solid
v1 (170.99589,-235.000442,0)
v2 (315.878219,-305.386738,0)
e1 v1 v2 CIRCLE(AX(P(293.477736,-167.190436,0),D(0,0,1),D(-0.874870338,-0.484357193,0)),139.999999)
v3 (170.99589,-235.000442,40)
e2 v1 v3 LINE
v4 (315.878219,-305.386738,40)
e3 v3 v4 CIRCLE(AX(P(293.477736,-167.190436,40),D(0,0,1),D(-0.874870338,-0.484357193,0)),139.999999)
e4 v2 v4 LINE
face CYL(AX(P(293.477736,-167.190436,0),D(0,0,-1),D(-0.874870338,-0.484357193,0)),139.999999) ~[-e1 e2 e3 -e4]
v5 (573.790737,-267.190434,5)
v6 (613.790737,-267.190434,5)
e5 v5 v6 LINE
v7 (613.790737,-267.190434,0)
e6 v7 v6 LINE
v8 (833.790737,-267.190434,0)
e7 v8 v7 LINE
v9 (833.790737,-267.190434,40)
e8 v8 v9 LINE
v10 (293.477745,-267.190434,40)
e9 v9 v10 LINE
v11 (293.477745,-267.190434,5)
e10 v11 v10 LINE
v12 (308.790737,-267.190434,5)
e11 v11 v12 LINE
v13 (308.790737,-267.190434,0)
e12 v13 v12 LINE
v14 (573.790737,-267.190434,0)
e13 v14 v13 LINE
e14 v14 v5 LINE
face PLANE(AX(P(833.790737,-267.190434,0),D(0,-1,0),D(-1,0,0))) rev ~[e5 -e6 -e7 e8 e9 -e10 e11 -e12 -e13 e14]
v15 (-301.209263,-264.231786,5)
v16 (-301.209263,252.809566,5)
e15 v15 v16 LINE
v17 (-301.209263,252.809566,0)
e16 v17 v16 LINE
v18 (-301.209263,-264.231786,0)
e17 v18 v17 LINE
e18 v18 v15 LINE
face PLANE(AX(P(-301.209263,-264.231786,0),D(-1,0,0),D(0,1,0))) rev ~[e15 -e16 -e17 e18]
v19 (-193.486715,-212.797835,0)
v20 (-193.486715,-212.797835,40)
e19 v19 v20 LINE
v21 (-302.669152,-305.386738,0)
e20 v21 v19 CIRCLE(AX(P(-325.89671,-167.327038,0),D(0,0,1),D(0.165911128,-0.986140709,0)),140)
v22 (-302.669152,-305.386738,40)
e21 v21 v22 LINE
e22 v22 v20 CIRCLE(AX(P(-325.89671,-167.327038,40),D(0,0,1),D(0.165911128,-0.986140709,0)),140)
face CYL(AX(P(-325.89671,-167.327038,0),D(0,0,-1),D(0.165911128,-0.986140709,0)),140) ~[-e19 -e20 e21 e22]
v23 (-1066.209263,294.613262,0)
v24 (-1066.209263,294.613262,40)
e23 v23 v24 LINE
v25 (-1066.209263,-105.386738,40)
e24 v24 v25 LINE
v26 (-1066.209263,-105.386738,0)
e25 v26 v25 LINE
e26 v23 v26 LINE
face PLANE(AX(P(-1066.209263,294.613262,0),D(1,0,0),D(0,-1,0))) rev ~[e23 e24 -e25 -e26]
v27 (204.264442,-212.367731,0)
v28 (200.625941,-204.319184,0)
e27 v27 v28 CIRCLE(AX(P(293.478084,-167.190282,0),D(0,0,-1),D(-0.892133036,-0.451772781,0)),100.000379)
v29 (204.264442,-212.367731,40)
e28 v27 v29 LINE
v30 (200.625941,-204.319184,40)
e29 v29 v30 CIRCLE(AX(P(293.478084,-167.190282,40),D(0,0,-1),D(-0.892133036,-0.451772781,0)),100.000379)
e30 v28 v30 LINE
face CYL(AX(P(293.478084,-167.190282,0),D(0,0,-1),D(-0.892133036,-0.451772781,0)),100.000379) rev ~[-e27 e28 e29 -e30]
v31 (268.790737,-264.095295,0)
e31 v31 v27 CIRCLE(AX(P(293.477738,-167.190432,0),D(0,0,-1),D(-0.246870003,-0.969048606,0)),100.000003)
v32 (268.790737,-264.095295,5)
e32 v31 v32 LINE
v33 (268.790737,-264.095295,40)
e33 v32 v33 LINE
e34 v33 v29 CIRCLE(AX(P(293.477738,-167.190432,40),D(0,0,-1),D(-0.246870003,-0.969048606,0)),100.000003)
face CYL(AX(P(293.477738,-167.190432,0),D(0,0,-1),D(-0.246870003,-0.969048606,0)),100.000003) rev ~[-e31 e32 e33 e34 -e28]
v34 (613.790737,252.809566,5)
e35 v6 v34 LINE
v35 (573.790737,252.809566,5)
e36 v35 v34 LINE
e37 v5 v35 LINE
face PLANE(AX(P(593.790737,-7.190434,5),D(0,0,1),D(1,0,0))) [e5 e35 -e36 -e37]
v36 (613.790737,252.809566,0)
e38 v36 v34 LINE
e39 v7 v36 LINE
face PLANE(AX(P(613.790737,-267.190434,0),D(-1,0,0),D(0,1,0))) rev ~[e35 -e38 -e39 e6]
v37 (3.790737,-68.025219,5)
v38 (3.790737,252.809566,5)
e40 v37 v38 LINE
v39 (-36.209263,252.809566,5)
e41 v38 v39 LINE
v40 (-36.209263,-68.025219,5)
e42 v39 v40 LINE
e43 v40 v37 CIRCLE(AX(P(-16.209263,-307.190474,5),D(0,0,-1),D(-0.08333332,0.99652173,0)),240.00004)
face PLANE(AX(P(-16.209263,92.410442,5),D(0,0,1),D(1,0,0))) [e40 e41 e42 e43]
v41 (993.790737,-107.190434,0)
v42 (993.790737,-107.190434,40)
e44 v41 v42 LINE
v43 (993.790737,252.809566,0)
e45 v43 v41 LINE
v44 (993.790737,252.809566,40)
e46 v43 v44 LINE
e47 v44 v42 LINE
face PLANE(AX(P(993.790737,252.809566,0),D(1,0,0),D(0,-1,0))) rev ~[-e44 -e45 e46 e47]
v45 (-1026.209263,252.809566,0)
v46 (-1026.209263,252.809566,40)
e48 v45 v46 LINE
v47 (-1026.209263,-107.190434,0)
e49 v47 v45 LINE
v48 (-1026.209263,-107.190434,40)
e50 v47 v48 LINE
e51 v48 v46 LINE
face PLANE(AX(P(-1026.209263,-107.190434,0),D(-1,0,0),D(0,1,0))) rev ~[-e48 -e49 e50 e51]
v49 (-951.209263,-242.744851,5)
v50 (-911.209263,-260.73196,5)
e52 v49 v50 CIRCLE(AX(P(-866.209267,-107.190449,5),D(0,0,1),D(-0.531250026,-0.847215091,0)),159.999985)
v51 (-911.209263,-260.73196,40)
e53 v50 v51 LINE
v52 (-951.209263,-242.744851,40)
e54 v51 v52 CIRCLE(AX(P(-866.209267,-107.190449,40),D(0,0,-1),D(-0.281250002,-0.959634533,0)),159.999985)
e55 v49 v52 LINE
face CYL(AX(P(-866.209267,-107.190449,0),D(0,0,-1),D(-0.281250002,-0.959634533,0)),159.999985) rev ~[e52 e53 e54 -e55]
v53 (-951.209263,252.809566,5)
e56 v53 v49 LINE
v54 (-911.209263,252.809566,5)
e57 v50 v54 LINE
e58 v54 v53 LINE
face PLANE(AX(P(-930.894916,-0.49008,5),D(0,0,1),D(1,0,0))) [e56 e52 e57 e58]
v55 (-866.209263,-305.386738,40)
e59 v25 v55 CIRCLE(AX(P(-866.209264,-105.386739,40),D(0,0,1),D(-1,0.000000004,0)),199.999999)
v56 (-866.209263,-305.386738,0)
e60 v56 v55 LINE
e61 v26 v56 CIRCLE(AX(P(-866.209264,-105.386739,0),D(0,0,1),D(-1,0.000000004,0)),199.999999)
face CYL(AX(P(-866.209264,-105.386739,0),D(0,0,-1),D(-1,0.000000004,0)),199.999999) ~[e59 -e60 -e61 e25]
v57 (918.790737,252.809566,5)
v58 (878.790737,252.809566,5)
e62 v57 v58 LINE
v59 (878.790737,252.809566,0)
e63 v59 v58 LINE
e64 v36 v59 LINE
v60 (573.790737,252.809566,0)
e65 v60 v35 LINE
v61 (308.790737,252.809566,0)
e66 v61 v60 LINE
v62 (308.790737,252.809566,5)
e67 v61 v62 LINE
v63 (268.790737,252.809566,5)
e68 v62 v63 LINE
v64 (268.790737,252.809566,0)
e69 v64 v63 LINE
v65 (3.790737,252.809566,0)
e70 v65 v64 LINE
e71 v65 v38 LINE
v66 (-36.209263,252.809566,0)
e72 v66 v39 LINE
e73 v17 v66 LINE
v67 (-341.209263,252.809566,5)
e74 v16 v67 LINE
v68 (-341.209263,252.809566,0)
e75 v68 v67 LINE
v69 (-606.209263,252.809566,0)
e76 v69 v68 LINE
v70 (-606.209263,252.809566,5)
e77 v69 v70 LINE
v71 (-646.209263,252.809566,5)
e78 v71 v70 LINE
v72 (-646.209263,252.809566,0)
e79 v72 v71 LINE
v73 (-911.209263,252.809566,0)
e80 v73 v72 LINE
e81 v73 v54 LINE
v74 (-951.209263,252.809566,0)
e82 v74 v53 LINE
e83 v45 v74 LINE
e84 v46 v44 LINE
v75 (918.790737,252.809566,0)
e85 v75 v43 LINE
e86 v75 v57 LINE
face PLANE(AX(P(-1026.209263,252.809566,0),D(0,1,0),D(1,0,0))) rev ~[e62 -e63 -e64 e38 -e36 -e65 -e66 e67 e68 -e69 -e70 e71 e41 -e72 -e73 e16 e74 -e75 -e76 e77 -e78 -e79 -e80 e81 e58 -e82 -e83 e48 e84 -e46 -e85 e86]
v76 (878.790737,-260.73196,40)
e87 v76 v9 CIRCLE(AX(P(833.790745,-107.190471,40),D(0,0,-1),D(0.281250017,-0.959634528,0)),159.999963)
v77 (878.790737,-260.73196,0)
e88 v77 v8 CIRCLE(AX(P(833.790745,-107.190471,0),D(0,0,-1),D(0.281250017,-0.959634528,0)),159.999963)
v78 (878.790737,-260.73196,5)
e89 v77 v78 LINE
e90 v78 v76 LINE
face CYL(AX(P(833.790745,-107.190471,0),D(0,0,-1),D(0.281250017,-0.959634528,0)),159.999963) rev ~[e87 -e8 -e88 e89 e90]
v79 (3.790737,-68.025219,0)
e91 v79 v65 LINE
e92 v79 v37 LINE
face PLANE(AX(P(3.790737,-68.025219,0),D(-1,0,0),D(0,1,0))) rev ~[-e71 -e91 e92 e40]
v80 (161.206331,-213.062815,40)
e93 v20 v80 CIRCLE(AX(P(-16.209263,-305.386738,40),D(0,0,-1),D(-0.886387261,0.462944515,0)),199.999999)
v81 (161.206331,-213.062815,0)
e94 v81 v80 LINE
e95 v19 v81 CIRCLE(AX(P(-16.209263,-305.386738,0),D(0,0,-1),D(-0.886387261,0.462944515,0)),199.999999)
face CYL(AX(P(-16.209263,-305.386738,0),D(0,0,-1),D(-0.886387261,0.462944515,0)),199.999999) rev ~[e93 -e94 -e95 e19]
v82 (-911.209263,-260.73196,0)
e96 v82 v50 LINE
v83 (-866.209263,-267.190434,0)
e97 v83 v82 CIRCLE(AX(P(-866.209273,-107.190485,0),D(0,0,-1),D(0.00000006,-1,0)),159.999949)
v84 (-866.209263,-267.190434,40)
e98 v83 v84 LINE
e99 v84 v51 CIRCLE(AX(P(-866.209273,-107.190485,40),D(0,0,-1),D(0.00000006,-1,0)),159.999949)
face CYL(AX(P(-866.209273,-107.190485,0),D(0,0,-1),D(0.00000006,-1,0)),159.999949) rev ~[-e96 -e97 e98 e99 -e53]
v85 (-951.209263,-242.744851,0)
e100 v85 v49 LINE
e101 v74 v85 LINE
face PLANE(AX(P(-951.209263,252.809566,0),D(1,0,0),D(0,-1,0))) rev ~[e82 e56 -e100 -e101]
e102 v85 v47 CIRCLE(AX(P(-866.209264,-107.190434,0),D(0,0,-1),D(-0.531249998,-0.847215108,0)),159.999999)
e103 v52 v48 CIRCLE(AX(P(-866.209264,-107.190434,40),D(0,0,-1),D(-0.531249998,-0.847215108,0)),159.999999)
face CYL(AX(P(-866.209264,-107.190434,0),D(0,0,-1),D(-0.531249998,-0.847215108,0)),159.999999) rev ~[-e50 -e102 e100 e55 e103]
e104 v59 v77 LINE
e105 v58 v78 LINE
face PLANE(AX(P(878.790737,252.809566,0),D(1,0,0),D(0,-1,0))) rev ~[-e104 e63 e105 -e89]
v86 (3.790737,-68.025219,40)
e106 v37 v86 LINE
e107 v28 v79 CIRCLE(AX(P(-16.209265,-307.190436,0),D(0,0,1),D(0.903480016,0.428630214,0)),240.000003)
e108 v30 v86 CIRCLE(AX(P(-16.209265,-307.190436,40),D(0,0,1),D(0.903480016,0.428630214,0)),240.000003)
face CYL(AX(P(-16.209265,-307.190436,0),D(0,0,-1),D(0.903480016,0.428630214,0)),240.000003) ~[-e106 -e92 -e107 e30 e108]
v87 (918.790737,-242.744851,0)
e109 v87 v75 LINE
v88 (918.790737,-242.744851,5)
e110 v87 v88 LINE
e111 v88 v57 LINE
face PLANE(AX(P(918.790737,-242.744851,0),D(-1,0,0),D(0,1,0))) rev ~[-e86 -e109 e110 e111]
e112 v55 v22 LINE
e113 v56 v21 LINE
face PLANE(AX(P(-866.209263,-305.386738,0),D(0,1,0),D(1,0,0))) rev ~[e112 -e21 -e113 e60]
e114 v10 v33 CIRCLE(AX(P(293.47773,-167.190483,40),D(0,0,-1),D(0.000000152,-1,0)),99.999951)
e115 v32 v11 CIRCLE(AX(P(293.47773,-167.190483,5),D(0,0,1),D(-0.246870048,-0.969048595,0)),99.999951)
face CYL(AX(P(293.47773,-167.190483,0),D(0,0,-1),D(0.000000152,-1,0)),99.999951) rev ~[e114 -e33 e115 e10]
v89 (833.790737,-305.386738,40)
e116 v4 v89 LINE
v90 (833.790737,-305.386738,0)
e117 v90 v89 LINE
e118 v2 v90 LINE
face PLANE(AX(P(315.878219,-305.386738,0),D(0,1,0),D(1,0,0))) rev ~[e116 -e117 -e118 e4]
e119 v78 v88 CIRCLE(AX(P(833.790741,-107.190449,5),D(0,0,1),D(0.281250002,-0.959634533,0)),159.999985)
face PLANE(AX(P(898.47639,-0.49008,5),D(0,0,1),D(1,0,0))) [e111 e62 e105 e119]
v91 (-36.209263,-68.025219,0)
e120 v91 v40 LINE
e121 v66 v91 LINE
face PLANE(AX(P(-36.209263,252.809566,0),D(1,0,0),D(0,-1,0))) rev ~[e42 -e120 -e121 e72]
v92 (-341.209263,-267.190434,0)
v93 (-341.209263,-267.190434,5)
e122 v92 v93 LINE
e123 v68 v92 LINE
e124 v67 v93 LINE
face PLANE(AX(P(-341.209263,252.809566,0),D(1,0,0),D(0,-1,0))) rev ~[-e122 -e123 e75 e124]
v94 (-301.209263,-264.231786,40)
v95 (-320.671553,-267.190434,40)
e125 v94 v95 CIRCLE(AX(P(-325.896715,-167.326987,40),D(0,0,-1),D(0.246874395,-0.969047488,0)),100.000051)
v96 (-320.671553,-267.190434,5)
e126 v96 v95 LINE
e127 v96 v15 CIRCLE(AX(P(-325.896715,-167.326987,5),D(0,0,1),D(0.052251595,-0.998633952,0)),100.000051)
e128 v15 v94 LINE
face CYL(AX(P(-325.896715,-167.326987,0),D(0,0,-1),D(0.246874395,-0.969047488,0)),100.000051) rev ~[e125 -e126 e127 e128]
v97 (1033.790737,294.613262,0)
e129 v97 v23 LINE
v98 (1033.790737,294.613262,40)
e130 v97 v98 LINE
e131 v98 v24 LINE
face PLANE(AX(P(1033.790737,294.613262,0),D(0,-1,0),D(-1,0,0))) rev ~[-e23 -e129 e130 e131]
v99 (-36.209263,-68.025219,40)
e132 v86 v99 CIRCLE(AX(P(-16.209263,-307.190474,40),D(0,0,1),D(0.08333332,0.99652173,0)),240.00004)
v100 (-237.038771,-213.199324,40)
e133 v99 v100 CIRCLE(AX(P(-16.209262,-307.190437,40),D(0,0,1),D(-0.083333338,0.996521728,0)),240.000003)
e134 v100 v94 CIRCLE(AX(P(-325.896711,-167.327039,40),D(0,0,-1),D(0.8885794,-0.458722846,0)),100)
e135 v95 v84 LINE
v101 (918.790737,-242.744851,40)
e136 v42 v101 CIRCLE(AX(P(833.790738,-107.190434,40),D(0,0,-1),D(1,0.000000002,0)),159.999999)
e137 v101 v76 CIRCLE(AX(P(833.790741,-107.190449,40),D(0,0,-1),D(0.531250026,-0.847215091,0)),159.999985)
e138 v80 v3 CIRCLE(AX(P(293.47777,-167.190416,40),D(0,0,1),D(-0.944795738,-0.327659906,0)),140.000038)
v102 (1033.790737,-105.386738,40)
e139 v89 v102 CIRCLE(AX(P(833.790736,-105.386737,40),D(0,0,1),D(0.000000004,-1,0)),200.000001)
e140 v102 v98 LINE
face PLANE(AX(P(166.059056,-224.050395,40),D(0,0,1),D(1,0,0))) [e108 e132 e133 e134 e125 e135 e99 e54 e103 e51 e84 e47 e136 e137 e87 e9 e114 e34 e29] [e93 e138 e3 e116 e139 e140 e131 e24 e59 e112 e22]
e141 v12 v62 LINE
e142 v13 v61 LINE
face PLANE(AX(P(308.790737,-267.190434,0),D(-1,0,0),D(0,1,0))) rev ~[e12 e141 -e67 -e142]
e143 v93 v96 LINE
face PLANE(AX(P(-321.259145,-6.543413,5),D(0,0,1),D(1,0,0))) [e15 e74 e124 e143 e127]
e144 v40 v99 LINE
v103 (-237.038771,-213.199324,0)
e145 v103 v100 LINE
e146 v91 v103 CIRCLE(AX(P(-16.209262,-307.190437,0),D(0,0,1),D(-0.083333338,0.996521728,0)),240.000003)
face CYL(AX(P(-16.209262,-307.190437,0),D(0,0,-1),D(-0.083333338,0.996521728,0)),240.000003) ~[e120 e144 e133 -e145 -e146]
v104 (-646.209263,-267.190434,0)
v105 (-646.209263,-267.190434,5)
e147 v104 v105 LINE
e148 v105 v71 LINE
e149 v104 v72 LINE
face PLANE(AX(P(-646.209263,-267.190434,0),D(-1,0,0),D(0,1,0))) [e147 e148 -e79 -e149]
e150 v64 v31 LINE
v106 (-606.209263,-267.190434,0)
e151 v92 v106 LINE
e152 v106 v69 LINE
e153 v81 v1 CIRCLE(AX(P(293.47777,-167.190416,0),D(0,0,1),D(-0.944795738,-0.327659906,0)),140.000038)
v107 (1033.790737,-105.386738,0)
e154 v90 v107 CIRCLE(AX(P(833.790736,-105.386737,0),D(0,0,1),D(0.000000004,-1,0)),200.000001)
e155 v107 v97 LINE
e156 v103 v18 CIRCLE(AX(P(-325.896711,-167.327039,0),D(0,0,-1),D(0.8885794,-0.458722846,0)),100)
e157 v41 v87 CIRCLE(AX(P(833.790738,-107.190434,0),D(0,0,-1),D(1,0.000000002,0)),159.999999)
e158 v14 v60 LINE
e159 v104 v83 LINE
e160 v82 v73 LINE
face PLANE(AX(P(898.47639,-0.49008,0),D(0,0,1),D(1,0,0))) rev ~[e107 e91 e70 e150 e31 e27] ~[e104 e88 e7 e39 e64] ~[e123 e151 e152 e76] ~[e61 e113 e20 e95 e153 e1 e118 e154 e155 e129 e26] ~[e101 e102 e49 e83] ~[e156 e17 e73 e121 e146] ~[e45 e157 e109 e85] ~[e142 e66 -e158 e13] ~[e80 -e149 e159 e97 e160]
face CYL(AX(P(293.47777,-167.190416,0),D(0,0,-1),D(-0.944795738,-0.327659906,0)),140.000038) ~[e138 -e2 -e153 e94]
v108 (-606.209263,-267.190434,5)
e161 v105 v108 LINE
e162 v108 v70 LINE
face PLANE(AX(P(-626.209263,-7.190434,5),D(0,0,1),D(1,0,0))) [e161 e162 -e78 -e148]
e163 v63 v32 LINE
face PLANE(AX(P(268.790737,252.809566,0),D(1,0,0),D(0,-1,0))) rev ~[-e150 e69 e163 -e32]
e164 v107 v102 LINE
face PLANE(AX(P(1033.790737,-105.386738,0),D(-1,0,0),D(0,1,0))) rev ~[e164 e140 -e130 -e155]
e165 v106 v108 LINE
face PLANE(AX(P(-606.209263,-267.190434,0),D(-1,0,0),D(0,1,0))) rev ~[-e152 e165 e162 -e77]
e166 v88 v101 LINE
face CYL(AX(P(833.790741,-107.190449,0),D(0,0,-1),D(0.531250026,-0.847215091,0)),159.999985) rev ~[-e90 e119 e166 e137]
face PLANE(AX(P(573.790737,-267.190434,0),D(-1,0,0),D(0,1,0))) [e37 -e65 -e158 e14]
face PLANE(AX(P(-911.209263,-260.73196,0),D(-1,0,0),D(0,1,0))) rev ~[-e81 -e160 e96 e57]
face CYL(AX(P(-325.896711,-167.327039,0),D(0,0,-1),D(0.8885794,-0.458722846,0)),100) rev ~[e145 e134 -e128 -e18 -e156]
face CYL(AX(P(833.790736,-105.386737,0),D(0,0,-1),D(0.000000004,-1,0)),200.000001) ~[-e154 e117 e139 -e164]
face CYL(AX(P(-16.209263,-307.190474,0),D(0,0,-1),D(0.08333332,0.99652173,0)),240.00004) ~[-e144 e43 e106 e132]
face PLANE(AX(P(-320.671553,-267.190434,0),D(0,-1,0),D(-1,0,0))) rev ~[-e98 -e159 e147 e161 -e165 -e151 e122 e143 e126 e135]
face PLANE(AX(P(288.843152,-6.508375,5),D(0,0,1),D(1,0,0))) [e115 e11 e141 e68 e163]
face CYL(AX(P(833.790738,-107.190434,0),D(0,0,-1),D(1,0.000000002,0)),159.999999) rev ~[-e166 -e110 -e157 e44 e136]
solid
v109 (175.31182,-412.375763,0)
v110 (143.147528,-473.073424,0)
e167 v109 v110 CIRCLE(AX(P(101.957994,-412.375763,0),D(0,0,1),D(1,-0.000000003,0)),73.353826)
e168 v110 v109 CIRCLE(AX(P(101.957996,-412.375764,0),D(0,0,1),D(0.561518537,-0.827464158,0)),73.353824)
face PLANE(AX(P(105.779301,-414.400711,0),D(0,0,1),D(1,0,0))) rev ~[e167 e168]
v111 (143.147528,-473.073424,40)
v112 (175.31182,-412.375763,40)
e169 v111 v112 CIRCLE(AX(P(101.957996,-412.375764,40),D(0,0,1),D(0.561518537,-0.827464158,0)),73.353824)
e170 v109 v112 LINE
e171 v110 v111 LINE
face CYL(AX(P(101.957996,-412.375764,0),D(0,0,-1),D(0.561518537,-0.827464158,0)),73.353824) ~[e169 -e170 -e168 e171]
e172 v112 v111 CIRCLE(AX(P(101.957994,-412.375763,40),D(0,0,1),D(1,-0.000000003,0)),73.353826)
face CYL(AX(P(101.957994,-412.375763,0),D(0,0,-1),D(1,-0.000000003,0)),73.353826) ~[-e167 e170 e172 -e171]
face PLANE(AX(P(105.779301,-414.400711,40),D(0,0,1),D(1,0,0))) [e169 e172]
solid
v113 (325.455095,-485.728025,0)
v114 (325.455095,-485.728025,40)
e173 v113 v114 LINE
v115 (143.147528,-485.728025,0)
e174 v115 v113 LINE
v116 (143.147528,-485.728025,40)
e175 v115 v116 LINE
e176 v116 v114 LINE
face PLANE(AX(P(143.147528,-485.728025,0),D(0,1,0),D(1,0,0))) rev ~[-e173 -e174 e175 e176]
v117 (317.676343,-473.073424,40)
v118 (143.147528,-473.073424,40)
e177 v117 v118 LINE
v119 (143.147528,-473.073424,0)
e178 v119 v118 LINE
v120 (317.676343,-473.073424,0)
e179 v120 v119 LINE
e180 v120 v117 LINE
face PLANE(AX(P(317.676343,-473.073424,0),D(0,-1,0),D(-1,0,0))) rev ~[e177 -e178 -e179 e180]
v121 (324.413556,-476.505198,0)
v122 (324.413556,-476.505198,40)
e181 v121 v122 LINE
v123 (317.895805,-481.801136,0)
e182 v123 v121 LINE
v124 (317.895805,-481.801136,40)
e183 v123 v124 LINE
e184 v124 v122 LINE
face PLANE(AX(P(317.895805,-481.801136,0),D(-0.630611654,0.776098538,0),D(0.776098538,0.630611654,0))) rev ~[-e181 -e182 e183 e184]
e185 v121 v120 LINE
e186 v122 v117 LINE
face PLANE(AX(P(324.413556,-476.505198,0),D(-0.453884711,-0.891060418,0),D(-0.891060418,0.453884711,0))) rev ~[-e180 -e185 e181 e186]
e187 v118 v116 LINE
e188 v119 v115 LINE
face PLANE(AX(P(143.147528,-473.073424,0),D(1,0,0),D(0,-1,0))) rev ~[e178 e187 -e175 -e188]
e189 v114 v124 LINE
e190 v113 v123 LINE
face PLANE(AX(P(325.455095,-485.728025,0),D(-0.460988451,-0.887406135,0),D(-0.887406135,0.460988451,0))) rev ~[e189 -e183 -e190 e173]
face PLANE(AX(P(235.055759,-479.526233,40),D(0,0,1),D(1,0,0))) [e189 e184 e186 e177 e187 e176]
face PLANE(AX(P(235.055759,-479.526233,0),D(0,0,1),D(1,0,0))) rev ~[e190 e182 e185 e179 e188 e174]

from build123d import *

# Parameters (mm, degrees)
F1_DEPTH = 40
F2_DEPTH = 5
F0_W     = 40
F0_H     = 520
F3_DEPTH = 5
F4_DEPTH = 5
F5_DEPTH = 5
F6_DEPTH = 5
F7_DEPTH = 5
F8_DEPTH = 5


with BuildPart() as f1:
    # F0 (on Top) → F1 (new body)
    with BuildSketch(Plane.XY):
        with BuildLine():
            ThreePointArc((143.147528, -473.073424), (166.773863, -446.722334), (175.31182, -412.375763))
            ThreePointArc((175.31182, -412.375763), (37.142125, -378.029192), (143.147528, -473.073424))
        make_face()
        Polygon((317.676343, -473.073424), (143.147528, -473.073424), (143.147528, -485.728025), (325.455095, -485.728025), (317.895805, -481.801136), (324.413556, -476.505198), align=None)
        with BuildLine():
            ThreePointArc((161.206331, -213.062815), (165.629703, -224.241992), (170.99589, -235.000442))
            ThreePointArc((170.99589, -235.000442), (166.430785, -223.884513), (161.206331, -213.062815))
        make_face()
        with BuildLine():
            Line((1033.790737, 294.613262), (-1066.209263, 294.613262))
            Line((-1066.209263, 294.613262), (-1066.209263, -105.386738))
            ThreePointArc((-1066.209263, -105.386738), (-1007.63062, -246.808094), (-866.209263, -305.386738))
            Line((-866.209263, -305.386738), (-302.669152, -305.386738))
            ThreePointArc((-302.669152, -305.386738), (-235.348722, -274.102794), (-193.486715, -212.797835))
            ThreePointArc((-193.486715, -212.797835), (-16.05985, -105.386794), (161.206331, -213.062815))
            ThreePointArc((161.206331, -213.062815), (166.430785, -223.884513), (170.99589, -235.000442))
            ThreePointArc((170.99589, -235.000442), (232.300719, -293.116494), (315.878219, -305.386738))
            Line((315.878219, -305.386738), (833.790737, -305.386738))
            ThreePointArc((833.790737, -305.386738), (975.212093, -246.808094), (1033.790737, -105.386738))
            Line((1033.790737, -105.386738), (1033.790737, 294.613262))
        make_face()
        with BuildLine():
            Line((-1026.209263, -107.190434), (-1026.209263, 252.809566))
            Line((-1026.209263, 252.809566), (-951.209263, 252.809566))
            Line((-951.209263, 252.809566), (-911.209263, 252.809566))
            Line((-911.209263, 252.809566), (-646.209263, 252.809566))
            Line((-646.209263, 252.809566), (-606.209263, 252.809566))
            Line((-606.209263, 252.809566), (-341.209263, 252.809566))
            Line((-341.209263, 252.809566), (-301.209263, 252.809566))
            Line((-301.209263, 252.809566), (-36.209263, 252.809566))
            Line((-36.209263, 252.809566), (3.790737, 252.809566))
            Line((3.790737, 252.809566), (268.790737, 252.809566))
            Line((268.790737, 252.809566), (308.790737, 252.809566))
            Line((308.790737, 252.809566), (573.790737, 252.809566))
            Line((573.790737, 252.809566), (613.790737, 252.809566))
            Line((613.790737, 252.809566), (878.790737, 252.809566))
            Line((878.790737, 252.809566), (918.790737, 252.809566))
            Line((918.790737, 252.809566), (993.790737, 252.809566))
            Line((993.790737, 252.809566), (993.790737, -107.190434))
            ThreePointArc((993.790737, -107.190434), (973.790737, -184.650101), (918.790737, -242.744851))
            ThreePointArc((918.790737, -242.744851), (899.409972, -253.11547), (878.790737, -260.73196))
            ThreePointArc((878.790737, -260.73196), (856.521288, -265.567586), (833.790737, -267.190434))
            Line((833.790737, -267.190434), (613.790737, -267.190434))
            Line((613.790737, -267.190434), (573.790737, -267.190434))
            Line((573.790737, -267.190434), (391.457326, -267.190434))
            Line((391.457326, -267.190434), (308.790737, -267.190434))
            Line((308.790737, -267.190434), (293.477745, -267.190434))
            ThreePointArc((293.477745, -267.190434), (281.037605, -266.413633), (268.790737, -264.095295))
            ThreePointArc((268.790737, -264.095295), (230.929719, -245.21444), (204.264442, -212.367731))
            ThreePointArc((204.264442, -212.367731), (202.356285, -208.38365), (200.625941, -204.319184))
            ThreePointArc((200.625941, -204.319184), (120.417014, -109.875305), (3.790737, -68.025219))
            ThreePointArc((3.790737, -68.025219), (-16.209263, -67.190434), (-36.209263, -68.025219))
            ThreePointArc((-36.209263, -68.025219), (-156.810092, -112.68746), (-237.038771, -213.199324))
            ThreePointArc((-237.038771, -213.199324), (-263.653504, -245.594422), (-301.209263, -264.231786))
            ThreePointArc((-301.209263, -264.231786), (-310.867426, -266.191191), (-320.671553, -267.190434))
            Line((-320.671553, -267.190434), (-341.209263, -267.190434))
            Line((-341.209263, -267.190434), (-606.209263, -267.190434))
            Line((-606.209263, -267.190434), (-646.209263, -267.190434))
            Line((-646.209263, -267.190434), (-866.209263, -267.190434))
            ThreePointArc((-866.209263, -267.190434), (-888.939815, -265.567586), (-911.209263, -260.73196))
            ThreePointArc((-911.209263, -260.73196), (-931.828498, -253.11547), (-951.209263, -242.744851))
            ThreePointArc((-951.209263, -242.744851), (-1006.209263, -184.650101), (-1026.209263, -107.190434))
        make_face(mode=Mode.SUBTRACT)
    extrude(amount=F1_DEPTH)

    # F0 (on Top) → F2 (join)
    with BuildSketch(Plane.XY):
        with BuildLine():
            Line((-911.209263, 252.809566), (-951.209263, 252.809566))
            Line((-951.209263, 252.809566), (-951.209263, -242.744851))
            ThreePointArc((-951.209263, -242.744851), (-931.828498, -253.11547), (-911.209263, -260.73196))
            Line((-911.209263, -260.73196), (-911.209263, 252.809566))
        make_face()
    extrude(amount=F2_DEPTH)

    # F0 (on Top) → F3 (join)
    with BuildSketch(Plane.XY):
        with Locations((-626.209263, -7.190434)):
            Rectangle(F0_W, F0_H)
    extrude(amount=F3_DEPTH)

    # F0 (on Top) → F4 (join)
    with BuildSketch(Plane.XY):
        with BuildLine():
            Line((-301.209263, 252.809566), (-341.209263, 252.809566))
            Line((-341.209263, 252.809566), (-341.209263, -267.190434))
            Line((-341.209263, -267.190434), (-320.671553, -267.190434))
            ThreePointArc((-320.671553, -267.190434), (-310.867426, -266.191191), (-301.209263, -264.231786))
            Line((-301.209263, -264.231786), (-301.209263, 252.809566))
        make_face()
    extrude(amount=F4_DEPTH)

    # F0 (on Top) → F5 (join)
    with BuildSketch(Plane.XY):
        with BuildLine():
            Line((3.790737, 252.809566), (-36.209263, 252.809566))
            Line((-36.209263, 252.809566), (-36.209263, -68.025219))
            ThreePointArc((-36.209263, -68.025219), (-16.209263, -67.190434), (3.790737, -68.025219))
            Line((3.790737, -68.025219), (3.790737, 252.809566))
        make_face()
    extrude(amount=F5_DEPTH)

    # F0 (on Top) → F6 (join)
    with BuildSketch(Plane.XY):
        with BuildLine():
            Line((308.790737, 252.809566), (268.790737, 252.809566))
            Line((268.790737, 252.809566), (268.790737, -264.095295))
            ThreePointArc((268.790737, -264.095295), (281.037605, -266.413633), (293.477745, -267.190434))
            Line((293.477745, -267.190434), (308.790737, -267.190434))
            Line((308.790737, -267.190434), (308.790737, -266.147713))
            Line((308.790737, -266.147713), (308.790737, 252.809566))
        make_face()
    extrude(amount=F6_DEPTH)

    # F0 (on Top) → F7 (join)
    with BuildSketch(Plane.XY):
        with Locations((593.790737, -7.190434)):
            Rectangle(F0_W, F0_H)
    extrude(amount=F7_DEPTH)

    # F0 (on Top) → F8 (join)
    with BuildSketch(Plane.XY):
        with BuildLine():
            Line((918.790737, 252.809566), (878.790737, 252.809566))
            Line((878.790737, 252.809566), (878.790737, -260.73196))
            ThreePointArc((878.790737, -260.73196), (899.409972, -253.11547), (918.790737, -242.744851))
            Line((918.790737, -242.744851), (918.790737, 252.809566))
        make_face()
    extrude(amount=F8_DEPTH)


solid = f1.part
